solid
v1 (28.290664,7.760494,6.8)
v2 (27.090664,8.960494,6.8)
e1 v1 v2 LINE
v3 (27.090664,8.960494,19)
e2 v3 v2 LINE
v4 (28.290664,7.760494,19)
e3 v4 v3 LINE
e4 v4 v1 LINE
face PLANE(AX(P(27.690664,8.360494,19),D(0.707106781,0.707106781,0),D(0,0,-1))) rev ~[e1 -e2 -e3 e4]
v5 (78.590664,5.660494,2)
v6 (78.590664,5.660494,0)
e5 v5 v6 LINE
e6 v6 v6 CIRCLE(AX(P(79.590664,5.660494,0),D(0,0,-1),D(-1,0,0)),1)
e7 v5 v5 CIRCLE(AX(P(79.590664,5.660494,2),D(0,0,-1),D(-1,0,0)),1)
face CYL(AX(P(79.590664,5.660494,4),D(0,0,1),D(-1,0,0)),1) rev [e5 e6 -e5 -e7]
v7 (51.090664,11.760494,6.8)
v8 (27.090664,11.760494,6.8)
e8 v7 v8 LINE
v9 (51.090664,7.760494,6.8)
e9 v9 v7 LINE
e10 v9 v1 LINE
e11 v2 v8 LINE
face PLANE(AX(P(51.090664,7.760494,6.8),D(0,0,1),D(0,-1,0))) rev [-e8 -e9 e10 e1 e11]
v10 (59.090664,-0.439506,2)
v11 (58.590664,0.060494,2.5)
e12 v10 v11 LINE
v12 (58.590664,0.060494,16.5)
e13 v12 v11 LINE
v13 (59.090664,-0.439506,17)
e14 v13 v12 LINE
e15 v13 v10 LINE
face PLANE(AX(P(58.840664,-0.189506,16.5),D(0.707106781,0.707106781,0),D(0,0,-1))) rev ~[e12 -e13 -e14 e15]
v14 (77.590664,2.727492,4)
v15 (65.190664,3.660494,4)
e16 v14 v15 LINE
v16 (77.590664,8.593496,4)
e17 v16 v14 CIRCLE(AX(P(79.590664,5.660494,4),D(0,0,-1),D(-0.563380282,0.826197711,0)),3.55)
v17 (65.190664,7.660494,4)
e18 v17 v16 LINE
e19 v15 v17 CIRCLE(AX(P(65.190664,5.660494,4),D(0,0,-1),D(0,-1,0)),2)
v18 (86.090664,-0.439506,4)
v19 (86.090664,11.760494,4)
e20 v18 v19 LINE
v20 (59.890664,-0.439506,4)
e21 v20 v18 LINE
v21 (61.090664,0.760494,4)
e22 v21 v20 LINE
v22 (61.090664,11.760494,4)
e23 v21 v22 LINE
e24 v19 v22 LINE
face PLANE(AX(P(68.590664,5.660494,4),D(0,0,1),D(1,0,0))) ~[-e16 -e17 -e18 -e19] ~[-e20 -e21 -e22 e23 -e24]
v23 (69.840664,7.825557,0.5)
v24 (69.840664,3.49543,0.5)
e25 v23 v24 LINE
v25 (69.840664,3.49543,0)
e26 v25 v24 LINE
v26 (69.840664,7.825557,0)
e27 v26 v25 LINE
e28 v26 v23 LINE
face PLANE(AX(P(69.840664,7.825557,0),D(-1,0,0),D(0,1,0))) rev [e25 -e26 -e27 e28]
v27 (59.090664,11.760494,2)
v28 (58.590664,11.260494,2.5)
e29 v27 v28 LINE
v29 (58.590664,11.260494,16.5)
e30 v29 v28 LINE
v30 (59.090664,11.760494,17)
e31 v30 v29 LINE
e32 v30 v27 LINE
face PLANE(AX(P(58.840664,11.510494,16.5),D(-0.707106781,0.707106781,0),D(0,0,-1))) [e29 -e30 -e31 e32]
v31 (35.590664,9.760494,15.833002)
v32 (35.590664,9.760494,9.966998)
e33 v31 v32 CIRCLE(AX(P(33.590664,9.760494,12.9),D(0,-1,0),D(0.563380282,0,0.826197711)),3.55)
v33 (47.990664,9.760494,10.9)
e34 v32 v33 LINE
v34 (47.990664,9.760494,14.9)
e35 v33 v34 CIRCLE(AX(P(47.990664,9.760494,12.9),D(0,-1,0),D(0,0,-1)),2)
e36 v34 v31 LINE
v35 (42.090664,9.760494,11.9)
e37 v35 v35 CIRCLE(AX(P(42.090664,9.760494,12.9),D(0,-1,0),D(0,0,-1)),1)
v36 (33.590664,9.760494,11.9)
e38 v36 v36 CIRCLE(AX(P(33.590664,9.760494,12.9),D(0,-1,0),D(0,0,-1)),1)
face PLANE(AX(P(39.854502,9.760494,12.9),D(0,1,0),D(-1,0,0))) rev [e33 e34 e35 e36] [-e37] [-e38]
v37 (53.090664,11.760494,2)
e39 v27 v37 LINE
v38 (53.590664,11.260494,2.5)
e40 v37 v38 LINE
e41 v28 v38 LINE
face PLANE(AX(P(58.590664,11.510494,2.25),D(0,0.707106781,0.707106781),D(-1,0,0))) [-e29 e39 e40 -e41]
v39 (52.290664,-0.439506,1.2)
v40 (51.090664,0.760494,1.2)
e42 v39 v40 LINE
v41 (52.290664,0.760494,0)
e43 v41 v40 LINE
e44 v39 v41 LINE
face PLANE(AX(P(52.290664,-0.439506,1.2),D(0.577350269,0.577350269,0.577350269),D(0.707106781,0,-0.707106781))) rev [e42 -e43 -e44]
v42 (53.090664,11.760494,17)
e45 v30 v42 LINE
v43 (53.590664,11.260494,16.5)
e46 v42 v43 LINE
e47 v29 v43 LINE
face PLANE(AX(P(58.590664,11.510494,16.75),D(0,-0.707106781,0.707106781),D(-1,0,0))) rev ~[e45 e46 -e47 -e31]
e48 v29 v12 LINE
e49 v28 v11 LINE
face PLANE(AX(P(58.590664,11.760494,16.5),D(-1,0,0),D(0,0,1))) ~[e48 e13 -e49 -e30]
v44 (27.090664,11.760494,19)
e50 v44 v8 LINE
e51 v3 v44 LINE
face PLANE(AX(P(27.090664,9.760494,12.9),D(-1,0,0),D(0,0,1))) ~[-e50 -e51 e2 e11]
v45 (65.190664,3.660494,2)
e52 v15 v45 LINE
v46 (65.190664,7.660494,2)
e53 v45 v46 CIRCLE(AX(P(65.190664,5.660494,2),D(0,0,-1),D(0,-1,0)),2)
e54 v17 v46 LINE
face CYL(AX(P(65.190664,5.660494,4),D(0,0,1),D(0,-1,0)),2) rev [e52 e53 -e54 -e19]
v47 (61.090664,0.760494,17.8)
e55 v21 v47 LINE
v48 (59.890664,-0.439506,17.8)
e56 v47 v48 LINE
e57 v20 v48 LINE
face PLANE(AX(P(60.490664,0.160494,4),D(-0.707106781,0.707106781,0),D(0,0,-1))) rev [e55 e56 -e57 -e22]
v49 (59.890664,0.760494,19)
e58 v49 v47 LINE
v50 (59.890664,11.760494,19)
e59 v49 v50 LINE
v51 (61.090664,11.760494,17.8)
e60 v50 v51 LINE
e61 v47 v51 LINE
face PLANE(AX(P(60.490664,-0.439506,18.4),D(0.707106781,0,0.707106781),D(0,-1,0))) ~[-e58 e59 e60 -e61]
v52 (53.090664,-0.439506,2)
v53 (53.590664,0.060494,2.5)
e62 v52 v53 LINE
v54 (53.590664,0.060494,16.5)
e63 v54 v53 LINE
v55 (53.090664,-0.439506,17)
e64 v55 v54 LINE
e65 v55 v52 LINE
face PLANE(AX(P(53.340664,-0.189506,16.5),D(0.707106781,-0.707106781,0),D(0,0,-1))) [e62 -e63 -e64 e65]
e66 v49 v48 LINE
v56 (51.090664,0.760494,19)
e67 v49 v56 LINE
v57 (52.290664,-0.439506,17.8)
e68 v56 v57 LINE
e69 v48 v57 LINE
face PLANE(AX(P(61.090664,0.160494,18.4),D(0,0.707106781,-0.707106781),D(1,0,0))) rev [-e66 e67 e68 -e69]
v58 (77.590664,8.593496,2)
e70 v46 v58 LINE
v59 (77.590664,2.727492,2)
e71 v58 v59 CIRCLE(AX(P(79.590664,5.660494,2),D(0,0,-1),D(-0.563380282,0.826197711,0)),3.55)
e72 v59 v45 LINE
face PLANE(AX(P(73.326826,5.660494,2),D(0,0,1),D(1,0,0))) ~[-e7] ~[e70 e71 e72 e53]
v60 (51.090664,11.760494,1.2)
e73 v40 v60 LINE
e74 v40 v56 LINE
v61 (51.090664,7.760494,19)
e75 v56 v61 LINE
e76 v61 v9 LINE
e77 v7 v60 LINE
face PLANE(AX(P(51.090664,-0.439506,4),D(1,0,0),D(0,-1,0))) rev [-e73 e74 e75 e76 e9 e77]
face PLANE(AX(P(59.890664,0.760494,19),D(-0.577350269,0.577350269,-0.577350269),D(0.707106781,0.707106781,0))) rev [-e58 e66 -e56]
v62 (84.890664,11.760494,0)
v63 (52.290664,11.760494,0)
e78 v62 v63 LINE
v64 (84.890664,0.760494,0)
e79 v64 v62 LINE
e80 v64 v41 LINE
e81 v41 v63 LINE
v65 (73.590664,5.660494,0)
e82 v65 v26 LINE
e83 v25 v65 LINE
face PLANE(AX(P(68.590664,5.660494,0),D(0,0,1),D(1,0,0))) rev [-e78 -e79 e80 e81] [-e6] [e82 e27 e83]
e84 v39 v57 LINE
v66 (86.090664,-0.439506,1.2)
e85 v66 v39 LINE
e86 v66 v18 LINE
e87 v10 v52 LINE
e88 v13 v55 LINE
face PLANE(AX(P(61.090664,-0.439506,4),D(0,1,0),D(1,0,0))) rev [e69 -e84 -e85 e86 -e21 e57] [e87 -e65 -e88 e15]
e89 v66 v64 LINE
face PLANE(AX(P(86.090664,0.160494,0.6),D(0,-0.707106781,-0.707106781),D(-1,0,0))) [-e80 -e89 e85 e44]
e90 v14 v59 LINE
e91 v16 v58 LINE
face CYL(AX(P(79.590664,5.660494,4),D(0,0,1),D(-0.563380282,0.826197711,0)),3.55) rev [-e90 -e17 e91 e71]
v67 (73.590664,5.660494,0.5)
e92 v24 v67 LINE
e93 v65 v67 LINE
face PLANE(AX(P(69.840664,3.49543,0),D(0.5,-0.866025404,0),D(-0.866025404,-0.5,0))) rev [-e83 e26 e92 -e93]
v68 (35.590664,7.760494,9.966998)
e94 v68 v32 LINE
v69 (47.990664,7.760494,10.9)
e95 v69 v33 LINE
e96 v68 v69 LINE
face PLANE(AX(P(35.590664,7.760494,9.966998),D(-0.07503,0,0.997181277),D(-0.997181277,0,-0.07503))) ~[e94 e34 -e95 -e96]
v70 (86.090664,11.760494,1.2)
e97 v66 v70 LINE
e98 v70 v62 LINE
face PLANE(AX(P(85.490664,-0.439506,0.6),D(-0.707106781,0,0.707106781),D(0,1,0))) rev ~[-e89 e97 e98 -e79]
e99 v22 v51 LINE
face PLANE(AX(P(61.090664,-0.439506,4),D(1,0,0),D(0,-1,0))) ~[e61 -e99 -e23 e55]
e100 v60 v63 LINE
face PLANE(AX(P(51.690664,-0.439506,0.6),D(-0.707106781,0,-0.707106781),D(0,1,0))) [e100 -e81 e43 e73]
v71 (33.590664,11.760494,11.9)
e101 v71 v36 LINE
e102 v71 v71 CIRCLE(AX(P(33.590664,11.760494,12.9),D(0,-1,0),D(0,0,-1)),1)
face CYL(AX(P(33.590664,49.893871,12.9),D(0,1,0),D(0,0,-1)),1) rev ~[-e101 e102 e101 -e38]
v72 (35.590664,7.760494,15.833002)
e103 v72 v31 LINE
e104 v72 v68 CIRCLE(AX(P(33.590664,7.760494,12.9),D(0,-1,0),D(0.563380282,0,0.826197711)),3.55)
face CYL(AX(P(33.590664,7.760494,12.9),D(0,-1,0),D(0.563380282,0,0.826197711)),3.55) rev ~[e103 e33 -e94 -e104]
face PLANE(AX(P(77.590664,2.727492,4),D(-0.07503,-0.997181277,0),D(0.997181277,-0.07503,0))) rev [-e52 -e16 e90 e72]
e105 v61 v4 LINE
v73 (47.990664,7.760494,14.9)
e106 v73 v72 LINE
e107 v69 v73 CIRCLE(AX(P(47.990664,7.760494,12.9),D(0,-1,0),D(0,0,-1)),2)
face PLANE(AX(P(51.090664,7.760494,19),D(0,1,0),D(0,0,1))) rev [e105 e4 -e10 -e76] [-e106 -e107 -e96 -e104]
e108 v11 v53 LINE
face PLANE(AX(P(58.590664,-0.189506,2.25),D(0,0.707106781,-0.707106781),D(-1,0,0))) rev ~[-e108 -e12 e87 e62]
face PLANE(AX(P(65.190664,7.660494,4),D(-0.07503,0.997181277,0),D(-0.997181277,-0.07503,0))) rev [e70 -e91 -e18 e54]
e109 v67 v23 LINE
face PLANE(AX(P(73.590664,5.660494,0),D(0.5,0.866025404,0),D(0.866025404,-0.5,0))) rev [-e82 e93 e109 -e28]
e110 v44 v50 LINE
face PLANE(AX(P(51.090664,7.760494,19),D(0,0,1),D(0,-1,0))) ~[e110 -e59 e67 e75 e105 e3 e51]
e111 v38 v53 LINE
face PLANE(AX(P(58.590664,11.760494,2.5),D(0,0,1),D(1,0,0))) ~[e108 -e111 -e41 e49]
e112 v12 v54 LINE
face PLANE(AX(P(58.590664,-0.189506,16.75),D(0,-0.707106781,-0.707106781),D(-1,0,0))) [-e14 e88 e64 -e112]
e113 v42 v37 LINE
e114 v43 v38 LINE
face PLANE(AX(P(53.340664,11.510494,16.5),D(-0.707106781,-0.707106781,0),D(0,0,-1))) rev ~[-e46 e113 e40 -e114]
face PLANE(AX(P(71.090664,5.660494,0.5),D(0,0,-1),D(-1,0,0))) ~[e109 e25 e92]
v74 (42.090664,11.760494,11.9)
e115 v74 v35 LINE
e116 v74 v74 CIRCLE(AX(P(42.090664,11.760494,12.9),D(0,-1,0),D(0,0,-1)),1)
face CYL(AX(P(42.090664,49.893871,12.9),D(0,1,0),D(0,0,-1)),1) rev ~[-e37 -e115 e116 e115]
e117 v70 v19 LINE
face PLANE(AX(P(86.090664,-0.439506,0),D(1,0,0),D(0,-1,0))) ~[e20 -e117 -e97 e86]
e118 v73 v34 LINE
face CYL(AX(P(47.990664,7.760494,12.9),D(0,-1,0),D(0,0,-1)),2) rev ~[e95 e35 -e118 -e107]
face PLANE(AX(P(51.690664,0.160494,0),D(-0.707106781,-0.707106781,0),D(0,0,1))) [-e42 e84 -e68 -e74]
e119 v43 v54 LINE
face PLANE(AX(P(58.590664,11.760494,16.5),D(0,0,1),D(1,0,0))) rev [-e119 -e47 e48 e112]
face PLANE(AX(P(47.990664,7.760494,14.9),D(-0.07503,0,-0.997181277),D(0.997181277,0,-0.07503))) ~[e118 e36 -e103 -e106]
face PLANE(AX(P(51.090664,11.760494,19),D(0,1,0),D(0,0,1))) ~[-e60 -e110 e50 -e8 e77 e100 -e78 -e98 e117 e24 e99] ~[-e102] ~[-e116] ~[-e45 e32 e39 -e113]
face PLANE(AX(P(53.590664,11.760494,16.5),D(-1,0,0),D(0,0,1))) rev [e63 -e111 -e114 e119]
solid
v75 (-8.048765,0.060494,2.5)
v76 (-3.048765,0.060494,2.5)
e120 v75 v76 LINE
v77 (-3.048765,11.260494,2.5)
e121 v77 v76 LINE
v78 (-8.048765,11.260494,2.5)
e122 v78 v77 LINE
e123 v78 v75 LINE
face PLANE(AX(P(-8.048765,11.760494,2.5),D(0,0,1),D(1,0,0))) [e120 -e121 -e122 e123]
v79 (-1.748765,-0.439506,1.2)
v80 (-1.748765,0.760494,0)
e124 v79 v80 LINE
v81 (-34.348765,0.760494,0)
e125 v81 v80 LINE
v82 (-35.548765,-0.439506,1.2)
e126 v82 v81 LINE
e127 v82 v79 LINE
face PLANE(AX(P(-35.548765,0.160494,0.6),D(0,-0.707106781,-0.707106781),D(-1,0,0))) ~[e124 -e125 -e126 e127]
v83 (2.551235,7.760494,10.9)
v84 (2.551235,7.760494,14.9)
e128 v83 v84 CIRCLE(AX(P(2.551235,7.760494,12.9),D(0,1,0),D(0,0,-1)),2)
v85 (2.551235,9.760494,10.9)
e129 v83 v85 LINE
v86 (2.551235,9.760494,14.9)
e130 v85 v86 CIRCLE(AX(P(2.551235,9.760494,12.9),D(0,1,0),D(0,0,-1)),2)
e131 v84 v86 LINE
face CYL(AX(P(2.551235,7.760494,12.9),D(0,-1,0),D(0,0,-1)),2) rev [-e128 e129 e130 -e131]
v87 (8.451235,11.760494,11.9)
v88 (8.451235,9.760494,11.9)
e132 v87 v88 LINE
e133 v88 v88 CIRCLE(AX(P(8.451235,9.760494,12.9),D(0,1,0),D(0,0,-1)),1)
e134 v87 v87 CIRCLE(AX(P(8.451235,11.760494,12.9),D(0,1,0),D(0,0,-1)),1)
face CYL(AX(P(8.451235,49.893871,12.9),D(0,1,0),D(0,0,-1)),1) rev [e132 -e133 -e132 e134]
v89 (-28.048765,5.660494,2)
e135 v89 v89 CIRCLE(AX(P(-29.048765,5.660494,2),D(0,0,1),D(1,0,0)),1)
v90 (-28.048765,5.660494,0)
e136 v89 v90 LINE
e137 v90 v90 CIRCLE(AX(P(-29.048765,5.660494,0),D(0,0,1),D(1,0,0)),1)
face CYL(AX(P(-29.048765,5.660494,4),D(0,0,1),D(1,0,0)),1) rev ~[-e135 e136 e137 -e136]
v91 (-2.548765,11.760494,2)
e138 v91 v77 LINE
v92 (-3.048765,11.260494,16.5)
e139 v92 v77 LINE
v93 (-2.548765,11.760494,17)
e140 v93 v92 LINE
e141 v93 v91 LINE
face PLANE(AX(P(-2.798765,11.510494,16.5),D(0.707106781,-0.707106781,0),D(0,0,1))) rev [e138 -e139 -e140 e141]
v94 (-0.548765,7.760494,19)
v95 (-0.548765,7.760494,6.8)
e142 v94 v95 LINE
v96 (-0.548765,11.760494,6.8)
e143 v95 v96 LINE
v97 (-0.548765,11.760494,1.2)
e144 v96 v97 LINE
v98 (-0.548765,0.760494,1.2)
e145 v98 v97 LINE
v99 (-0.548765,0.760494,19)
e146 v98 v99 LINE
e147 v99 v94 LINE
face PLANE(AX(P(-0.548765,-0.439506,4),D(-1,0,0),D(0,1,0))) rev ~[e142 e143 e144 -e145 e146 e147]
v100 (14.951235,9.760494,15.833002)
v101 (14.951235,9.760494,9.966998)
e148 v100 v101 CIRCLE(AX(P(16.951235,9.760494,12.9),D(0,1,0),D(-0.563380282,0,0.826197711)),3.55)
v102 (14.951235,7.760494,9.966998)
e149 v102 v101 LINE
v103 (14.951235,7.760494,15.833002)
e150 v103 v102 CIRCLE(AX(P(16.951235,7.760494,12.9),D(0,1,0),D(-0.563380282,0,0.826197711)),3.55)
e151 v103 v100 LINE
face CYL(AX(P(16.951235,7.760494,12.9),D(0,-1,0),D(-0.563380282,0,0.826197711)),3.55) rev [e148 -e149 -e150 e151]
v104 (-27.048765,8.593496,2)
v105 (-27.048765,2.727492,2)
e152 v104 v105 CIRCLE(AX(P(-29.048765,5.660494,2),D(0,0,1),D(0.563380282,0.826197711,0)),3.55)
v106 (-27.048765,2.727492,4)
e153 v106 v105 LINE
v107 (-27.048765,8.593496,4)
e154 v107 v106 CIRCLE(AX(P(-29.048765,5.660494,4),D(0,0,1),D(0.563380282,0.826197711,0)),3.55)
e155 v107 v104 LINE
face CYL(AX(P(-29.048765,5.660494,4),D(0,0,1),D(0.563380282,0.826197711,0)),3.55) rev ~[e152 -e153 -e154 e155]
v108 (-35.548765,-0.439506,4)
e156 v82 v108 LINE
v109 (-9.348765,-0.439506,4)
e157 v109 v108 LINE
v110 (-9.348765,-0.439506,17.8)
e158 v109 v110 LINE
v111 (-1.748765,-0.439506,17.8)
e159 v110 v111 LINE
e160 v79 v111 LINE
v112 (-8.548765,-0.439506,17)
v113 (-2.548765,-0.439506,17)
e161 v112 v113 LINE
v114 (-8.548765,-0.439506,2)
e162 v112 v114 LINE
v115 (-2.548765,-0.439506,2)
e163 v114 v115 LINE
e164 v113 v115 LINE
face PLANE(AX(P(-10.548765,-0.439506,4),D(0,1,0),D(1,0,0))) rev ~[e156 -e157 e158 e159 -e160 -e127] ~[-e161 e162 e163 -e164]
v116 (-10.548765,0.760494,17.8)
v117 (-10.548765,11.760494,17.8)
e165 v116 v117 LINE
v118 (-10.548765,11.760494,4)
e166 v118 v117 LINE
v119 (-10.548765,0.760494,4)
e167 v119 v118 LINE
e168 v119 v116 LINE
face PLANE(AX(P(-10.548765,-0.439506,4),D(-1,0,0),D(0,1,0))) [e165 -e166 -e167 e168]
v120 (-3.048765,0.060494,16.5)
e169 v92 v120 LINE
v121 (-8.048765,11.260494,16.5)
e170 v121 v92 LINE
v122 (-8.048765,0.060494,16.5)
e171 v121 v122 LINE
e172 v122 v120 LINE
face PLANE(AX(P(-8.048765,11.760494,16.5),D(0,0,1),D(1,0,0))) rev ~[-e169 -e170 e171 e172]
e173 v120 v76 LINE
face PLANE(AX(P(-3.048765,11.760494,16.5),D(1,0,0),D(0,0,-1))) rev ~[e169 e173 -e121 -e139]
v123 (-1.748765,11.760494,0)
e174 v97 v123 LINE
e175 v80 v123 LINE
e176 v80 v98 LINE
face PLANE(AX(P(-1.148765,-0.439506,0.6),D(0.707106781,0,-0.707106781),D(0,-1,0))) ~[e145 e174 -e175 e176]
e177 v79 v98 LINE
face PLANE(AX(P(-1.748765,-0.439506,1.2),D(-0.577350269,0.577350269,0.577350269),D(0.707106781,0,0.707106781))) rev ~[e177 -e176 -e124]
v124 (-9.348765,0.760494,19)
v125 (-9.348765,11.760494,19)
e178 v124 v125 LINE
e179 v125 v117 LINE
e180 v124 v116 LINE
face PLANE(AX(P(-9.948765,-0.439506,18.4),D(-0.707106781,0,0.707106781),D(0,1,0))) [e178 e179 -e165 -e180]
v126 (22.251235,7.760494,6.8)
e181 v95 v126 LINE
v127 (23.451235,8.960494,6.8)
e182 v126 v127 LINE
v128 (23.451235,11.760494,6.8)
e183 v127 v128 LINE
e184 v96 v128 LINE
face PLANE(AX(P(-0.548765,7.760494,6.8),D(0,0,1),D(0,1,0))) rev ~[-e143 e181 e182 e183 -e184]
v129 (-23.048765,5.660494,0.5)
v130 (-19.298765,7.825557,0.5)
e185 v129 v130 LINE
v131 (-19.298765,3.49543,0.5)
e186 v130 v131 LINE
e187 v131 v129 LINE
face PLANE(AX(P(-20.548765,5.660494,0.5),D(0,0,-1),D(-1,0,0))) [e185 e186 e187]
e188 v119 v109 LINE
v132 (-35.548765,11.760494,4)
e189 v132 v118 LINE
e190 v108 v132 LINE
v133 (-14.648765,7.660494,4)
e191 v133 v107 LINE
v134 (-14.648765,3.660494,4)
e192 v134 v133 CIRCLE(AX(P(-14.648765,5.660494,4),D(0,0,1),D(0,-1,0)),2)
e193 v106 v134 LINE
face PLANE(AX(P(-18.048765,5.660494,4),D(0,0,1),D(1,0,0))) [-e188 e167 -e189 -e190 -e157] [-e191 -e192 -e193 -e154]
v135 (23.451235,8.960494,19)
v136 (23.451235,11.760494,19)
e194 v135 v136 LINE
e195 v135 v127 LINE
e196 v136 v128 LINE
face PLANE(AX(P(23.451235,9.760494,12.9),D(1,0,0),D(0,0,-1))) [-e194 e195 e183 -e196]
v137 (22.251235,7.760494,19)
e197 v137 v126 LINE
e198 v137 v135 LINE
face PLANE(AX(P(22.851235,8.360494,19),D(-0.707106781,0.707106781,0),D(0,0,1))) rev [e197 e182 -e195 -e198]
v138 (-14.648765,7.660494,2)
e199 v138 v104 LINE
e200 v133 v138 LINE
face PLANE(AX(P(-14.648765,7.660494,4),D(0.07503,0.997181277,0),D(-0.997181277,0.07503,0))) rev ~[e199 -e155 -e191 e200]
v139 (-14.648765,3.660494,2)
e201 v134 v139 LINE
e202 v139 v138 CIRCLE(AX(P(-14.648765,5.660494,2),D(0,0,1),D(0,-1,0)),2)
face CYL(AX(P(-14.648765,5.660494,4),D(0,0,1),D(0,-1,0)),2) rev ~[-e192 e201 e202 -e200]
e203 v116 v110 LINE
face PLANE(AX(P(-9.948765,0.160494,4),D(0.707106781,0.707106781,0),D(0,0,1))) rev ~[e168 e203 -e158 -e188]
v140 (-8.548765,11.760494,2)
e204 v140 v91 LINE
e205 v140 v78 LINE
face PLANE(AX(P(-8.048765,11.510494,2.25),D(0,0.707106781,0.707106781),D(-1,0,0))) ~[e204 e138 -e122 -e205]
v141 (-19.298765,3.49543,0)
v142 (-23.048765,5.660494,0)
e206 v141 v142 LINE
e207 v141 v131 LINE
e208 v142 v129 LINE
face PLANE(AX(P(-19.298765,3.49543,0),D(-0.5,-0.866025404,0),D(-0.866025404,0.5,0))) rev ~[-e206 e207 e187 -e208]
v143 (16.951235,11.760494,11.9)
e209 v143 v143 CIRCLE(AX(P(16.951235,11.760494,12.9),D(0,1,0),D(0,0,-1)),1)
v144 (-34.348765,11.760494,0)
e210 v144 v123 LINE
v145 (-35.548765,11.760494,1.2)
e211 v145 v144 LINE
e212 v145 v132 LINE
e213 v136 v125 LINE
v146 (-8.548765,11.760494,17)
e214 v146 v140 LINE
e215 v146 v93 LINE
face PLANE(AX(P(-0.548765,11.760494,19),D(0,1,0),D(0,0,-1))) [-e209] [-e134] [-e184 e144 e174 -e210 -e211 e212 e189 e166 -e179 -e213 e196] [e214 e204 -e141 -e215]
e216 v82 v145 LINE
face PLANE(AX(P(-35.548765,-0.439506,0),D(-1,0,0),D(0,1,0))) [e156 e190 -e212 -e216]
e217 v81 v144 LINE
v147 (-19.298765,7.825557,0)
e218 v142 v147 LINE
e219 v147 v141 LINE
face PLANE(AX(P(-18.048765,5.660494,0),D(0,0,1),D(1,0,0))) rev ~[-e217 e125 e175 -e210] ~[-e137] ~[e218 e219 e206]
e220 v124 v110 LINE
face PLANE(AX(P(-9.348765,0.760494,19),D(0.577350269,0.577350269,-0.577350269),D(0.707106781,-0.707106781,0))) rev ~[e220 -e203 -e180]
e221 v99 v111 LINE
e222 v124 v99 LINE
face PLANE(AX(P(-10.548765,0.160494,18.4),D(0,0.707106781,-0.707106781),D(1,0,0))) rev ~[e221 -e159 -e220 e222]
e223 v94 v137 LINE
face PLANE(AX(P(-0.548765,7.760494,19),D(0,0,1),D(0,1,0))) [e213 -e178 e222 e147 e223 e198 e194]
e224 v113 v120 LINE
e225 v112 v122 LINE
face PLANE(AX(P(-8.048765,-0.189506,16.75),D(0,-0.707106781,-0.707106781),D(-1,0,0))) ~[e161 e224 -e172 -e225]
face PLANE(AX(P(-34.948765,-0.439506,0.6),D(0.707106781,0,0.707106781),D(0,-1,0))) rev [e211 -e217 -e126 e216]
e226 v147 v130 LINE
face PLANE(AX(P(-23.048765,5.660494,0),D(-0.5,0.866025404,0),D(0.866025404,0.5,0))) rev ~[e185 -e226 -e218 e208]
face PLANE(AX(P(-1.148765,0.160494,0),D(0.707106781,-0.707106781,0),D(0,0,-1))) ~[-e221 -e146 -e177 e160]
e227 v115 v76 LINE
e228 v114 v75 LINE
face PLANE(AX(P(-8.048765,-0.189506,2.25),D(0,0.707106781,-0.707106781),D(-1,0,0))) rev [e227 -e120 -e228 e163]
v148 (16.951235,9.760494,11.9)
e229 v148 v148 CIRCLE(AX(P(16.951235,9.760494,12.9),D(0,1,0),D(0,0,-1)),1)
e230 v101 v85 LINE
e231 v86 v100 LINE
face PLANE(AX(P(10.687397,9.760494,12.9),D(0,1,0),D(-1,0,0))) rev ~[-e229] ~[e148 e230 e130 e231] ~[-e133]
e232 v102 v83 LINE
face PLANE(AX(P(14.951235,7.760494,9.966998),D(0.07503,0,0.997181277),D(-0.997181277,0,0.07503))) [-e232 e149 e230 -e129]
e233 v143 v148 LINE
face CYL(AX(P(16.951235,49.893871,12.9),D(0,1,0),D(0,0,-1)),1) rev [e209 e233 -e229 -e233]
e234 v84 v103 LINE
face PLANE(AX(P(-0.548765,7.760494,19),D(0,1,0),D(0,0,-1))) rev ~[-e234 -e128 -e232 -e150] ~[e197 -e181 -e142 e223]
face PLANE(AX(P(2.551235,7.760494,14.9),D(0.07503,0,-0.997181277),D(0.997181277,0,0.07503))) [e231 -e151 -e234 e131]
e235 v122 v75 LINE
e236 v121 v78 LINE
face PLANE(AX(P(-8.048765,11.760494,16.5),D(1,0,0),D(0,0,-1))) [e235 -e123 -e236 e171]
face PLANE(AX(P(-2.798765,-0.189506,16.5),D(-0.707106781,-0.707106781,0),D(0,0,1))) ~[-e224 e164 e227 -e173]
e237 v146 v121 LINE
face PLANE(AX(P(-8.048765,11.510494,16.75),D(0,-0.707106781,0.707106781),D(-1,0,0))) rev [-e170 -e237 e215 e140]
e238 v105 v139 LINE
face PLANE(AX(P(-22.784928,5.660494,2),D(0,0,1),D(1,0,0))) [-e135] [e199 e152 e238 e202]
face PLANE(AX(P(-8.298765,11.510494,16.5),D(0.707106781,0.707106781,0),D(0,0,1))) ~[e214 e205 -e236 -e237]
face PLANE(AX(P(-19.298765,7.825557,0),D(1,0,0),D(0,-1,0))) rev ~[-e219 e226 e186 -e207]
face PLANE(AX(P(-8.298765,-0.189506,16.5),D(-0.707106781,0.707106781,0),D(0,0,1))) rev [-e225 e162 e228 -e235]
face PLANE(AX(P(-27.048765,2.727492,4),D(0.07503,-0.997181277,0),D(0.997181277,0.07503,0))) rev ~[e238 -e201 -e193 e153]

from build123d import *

# Parameters (mm, degrees)
SKETCH1_W               = 35
SKETCH1_H               = 12.2
BOSS_EXTRUDE1_DEPTH     = 4
SKETCH2_R               = 1
CUT_EXTRUDE1_DEPTH      = 38.656658625
SKETCH3_W               = 10
SKETCH3_H               = 12.2
BOSS_EXTRUDE2_DEPTH     = 15
SKETCH4_W               = 12.2
SKETCH4_H               = 4
BOSS_EXTRUDE3_DEPTH     = 24
CUT_EXTRUDE2_DEPTH      = 42.133377247
CUT_EXTRUDE2_DEPTH_BACK = 42.133377247
SKETCH5_R               = 1
CUT_EXTRUDE3_DEPTH      = 0.5
CHAMFER1_SIZE           = 1.2
CUT_EXTRUDE17_DEPTH     = 2
CUT_EXTRUDE18_DEPTH     = 2
SKETCH26_W              = 5
SKETCH26_H              = 14
CUT_EXTRUDE19_DEPTH     = 43.113593099
CHAMFER2_SIZE           = 0.5


with BuildPart() as part:
    # Sketch1 → Boss-Extrude1 (new body)
    with BuildSketch(Plane.XY):
        with Locations((-18.048765432, 5.660493827)):
            Rectangle(SKETCH1_W, SKETCH1_H)
    extrude(amount=BOSS_EXTRUDE1_DEPTH)

    # Sketch2 → Cut-Extrude1 (cut, through all)
    with BuildSketch(Plane.XY.offset(4)):
        with Locations((-29.048765432, 5.660493827)):
            Circle(SKETCH2_R)
    extrude(amount=-CUT_EXTRUDE1_DEPTH, mode=Mode.SUBTRACT)

    # Sketch3 → Boss-Extrude2 (add)
    with BuildSketch(Plane.XY.offset(4)):
        with Locations((-5.548765432, 5.660493827)):
            Rectangle(SKETCH3_W, SKETCH3_H)
    extrude(amount=BOSS_EXTRUDE2_DEPTH)

    # Sketch4 → Boss-Extrude3 (add)
    with BuildSketch(Plane(origin=(-0.548765432, 0, 0), x_dir=(0, 0, -1), z_dir=(1, 0, 0))):
        with Locations((-12.9, 9.760493827)):
            Rectangle(SKETCH4_W, SKETCH4_H)
    extrude(amount=BOSS_EXTRUDE3_DEPTH)

    # Sketch5 → Cut-Extrude2 (cut, two sides: drawn at the far end of the back side and taken through both)
    with BuildSketch(Plane.XZ.offset(-7.760493827).offset(-CUT_EXTRUDE2_DEPTH_BACK)):
        with Locations(Location((16.951234568, 12.9, 0), (0, 0, 270))):
            Circle(SKETCH5_R)
        with Locations(Location((8.451234568, 12.9, 0), (0, 0, 270))):
            Circle(SKETCH5_R)
    extrude(amount=CUT_EXTRUDE2_DEPTH + CUT_EXTRUDE2_DEPTH_BACK, mode=Mode.SUBTRACT)

    # Sketch7 → Cut-Extrude3 (cut)
    with BuildSketch(Plane(origin=(0, 0, 0), x_dir=(-1, 0, 0), z_dir=(0, 0, -1))):
        Polygon((23.048765432, 5.660493827), (19.298765432, 7.825557337), (19.298765432, 3.495430318), align=None)
    extrude(amount=-CUT_EXTRUDE3_DEPTH, mode=Mode.SUBTRACT)

    # Chamfer1
    chamfer1_edges = [part.edges().sort_by_distance(p)[0] for p in [
        (-10.548765432, -0.439506173, 11.5),
        (-10.548765432, 5.660493827, 19),
        (-5.548765432, -0.439506173, 19),
        (23.451234568, 7.760493827, 12.9),
        (-0.548765432, 5.660493827, 0),
        (-18.048765432, -0.439506173, 0),
        (-35.548765432, 5.660493827, 0),
        (-0.548765432, -0.439506173, 9.5),
    ]]
    chamfer(chamfer1_edges, length=CHAMFER1_SIZE)

    # Sketch24 → Cut-Extrude17 (cut)
    with BuildSketch(Plane.XY.offset(4)):
        with BuildLine():
            Line((-27.048765432, 2.727491952), (-14.648765432, 3.660493827))
            ThreePointArc((-14.648765432, 3.660493827), (-12.648765432, 5.660493827), (-14.648765432, 7.660493827))
            Line((-14.648765432, 7.660493827), (-27.048765432, 8.593495702))
            ThreePointArc((-27.048765432, 8.593495702), (-32.598765432, 5.660493827), (-27.048765432, 2.727491952))
        make_face()
    extrude(amount=-CUT_EXTRUDE17_DEPTH, mode=Mode.SUBTRACT)

    # Sketch25 → Cut-Extrude18 (cut)
    with BuildSketch(Plane.XZ.offset(-7.760493827)):
        with BuildLine():
            Line((2.551234568, 14.9), (14.951234568, 15.833001875))
            ThreePointArc((14.951234568, 15.833001875), (20.501234568, 12.9), (14.951234568, 9.966998125))
            Line((14.951234568, 9.966998125), (2.551234568, 10.9))
            ThreePointArc((2.551234568, 10.9), (0.551234568, 12.9), (2.551234568, 14.9))
        make_face()
    extrude(amount=-CUT_EXTRUDE18_DEPTH, mode=Mode.SUBTRACT)

    # Sketch26 → Cut-Extrude19 (cut, through all)
    with BuildSketch(Plane(origin=(0, 11.760493827, 0), x_dir=(1, 0, 0), z_dir=(0, 1, 0))):
        with Locations((-5.548765432, -9.5)):
            Rectangle(SKETCH26_W, SKETCH26_H)
    extrude(amount=-CUT_EXTRUDE19_DEPTH, mode=Mode.SUBTRACT)

    # Chamfer2
    chamfer2_edges = [part.edges().sort_by_distance(p)[0] for p in [
        (-8.048765432, -0.439506173, 9.5),
        (-5.548765432, -0.439506173, 2.5),
        (-3.048765432, -0.439506173, 9.5),
        (-5.548765432, -0.439506173, 16.5),
        (-8.048765432, 11.760493827, 9.5),
        (-5.548765432, 11.760493827, 16.5),
        (-3.048765432, 11.760493827, 9.5),
        (-5.548765432, 11.760493827, 2.5),
    ]]
    chamfer(chamfer2_edges, length=CHAMFER2_SIZE)


with BuildPart() as body_2:
    # Mirror1: mirrored copy
    add(part.part.mirror(Plane.ZY.offset(-25.270949191)))


solid = Compound([part.part, body_2.part])
